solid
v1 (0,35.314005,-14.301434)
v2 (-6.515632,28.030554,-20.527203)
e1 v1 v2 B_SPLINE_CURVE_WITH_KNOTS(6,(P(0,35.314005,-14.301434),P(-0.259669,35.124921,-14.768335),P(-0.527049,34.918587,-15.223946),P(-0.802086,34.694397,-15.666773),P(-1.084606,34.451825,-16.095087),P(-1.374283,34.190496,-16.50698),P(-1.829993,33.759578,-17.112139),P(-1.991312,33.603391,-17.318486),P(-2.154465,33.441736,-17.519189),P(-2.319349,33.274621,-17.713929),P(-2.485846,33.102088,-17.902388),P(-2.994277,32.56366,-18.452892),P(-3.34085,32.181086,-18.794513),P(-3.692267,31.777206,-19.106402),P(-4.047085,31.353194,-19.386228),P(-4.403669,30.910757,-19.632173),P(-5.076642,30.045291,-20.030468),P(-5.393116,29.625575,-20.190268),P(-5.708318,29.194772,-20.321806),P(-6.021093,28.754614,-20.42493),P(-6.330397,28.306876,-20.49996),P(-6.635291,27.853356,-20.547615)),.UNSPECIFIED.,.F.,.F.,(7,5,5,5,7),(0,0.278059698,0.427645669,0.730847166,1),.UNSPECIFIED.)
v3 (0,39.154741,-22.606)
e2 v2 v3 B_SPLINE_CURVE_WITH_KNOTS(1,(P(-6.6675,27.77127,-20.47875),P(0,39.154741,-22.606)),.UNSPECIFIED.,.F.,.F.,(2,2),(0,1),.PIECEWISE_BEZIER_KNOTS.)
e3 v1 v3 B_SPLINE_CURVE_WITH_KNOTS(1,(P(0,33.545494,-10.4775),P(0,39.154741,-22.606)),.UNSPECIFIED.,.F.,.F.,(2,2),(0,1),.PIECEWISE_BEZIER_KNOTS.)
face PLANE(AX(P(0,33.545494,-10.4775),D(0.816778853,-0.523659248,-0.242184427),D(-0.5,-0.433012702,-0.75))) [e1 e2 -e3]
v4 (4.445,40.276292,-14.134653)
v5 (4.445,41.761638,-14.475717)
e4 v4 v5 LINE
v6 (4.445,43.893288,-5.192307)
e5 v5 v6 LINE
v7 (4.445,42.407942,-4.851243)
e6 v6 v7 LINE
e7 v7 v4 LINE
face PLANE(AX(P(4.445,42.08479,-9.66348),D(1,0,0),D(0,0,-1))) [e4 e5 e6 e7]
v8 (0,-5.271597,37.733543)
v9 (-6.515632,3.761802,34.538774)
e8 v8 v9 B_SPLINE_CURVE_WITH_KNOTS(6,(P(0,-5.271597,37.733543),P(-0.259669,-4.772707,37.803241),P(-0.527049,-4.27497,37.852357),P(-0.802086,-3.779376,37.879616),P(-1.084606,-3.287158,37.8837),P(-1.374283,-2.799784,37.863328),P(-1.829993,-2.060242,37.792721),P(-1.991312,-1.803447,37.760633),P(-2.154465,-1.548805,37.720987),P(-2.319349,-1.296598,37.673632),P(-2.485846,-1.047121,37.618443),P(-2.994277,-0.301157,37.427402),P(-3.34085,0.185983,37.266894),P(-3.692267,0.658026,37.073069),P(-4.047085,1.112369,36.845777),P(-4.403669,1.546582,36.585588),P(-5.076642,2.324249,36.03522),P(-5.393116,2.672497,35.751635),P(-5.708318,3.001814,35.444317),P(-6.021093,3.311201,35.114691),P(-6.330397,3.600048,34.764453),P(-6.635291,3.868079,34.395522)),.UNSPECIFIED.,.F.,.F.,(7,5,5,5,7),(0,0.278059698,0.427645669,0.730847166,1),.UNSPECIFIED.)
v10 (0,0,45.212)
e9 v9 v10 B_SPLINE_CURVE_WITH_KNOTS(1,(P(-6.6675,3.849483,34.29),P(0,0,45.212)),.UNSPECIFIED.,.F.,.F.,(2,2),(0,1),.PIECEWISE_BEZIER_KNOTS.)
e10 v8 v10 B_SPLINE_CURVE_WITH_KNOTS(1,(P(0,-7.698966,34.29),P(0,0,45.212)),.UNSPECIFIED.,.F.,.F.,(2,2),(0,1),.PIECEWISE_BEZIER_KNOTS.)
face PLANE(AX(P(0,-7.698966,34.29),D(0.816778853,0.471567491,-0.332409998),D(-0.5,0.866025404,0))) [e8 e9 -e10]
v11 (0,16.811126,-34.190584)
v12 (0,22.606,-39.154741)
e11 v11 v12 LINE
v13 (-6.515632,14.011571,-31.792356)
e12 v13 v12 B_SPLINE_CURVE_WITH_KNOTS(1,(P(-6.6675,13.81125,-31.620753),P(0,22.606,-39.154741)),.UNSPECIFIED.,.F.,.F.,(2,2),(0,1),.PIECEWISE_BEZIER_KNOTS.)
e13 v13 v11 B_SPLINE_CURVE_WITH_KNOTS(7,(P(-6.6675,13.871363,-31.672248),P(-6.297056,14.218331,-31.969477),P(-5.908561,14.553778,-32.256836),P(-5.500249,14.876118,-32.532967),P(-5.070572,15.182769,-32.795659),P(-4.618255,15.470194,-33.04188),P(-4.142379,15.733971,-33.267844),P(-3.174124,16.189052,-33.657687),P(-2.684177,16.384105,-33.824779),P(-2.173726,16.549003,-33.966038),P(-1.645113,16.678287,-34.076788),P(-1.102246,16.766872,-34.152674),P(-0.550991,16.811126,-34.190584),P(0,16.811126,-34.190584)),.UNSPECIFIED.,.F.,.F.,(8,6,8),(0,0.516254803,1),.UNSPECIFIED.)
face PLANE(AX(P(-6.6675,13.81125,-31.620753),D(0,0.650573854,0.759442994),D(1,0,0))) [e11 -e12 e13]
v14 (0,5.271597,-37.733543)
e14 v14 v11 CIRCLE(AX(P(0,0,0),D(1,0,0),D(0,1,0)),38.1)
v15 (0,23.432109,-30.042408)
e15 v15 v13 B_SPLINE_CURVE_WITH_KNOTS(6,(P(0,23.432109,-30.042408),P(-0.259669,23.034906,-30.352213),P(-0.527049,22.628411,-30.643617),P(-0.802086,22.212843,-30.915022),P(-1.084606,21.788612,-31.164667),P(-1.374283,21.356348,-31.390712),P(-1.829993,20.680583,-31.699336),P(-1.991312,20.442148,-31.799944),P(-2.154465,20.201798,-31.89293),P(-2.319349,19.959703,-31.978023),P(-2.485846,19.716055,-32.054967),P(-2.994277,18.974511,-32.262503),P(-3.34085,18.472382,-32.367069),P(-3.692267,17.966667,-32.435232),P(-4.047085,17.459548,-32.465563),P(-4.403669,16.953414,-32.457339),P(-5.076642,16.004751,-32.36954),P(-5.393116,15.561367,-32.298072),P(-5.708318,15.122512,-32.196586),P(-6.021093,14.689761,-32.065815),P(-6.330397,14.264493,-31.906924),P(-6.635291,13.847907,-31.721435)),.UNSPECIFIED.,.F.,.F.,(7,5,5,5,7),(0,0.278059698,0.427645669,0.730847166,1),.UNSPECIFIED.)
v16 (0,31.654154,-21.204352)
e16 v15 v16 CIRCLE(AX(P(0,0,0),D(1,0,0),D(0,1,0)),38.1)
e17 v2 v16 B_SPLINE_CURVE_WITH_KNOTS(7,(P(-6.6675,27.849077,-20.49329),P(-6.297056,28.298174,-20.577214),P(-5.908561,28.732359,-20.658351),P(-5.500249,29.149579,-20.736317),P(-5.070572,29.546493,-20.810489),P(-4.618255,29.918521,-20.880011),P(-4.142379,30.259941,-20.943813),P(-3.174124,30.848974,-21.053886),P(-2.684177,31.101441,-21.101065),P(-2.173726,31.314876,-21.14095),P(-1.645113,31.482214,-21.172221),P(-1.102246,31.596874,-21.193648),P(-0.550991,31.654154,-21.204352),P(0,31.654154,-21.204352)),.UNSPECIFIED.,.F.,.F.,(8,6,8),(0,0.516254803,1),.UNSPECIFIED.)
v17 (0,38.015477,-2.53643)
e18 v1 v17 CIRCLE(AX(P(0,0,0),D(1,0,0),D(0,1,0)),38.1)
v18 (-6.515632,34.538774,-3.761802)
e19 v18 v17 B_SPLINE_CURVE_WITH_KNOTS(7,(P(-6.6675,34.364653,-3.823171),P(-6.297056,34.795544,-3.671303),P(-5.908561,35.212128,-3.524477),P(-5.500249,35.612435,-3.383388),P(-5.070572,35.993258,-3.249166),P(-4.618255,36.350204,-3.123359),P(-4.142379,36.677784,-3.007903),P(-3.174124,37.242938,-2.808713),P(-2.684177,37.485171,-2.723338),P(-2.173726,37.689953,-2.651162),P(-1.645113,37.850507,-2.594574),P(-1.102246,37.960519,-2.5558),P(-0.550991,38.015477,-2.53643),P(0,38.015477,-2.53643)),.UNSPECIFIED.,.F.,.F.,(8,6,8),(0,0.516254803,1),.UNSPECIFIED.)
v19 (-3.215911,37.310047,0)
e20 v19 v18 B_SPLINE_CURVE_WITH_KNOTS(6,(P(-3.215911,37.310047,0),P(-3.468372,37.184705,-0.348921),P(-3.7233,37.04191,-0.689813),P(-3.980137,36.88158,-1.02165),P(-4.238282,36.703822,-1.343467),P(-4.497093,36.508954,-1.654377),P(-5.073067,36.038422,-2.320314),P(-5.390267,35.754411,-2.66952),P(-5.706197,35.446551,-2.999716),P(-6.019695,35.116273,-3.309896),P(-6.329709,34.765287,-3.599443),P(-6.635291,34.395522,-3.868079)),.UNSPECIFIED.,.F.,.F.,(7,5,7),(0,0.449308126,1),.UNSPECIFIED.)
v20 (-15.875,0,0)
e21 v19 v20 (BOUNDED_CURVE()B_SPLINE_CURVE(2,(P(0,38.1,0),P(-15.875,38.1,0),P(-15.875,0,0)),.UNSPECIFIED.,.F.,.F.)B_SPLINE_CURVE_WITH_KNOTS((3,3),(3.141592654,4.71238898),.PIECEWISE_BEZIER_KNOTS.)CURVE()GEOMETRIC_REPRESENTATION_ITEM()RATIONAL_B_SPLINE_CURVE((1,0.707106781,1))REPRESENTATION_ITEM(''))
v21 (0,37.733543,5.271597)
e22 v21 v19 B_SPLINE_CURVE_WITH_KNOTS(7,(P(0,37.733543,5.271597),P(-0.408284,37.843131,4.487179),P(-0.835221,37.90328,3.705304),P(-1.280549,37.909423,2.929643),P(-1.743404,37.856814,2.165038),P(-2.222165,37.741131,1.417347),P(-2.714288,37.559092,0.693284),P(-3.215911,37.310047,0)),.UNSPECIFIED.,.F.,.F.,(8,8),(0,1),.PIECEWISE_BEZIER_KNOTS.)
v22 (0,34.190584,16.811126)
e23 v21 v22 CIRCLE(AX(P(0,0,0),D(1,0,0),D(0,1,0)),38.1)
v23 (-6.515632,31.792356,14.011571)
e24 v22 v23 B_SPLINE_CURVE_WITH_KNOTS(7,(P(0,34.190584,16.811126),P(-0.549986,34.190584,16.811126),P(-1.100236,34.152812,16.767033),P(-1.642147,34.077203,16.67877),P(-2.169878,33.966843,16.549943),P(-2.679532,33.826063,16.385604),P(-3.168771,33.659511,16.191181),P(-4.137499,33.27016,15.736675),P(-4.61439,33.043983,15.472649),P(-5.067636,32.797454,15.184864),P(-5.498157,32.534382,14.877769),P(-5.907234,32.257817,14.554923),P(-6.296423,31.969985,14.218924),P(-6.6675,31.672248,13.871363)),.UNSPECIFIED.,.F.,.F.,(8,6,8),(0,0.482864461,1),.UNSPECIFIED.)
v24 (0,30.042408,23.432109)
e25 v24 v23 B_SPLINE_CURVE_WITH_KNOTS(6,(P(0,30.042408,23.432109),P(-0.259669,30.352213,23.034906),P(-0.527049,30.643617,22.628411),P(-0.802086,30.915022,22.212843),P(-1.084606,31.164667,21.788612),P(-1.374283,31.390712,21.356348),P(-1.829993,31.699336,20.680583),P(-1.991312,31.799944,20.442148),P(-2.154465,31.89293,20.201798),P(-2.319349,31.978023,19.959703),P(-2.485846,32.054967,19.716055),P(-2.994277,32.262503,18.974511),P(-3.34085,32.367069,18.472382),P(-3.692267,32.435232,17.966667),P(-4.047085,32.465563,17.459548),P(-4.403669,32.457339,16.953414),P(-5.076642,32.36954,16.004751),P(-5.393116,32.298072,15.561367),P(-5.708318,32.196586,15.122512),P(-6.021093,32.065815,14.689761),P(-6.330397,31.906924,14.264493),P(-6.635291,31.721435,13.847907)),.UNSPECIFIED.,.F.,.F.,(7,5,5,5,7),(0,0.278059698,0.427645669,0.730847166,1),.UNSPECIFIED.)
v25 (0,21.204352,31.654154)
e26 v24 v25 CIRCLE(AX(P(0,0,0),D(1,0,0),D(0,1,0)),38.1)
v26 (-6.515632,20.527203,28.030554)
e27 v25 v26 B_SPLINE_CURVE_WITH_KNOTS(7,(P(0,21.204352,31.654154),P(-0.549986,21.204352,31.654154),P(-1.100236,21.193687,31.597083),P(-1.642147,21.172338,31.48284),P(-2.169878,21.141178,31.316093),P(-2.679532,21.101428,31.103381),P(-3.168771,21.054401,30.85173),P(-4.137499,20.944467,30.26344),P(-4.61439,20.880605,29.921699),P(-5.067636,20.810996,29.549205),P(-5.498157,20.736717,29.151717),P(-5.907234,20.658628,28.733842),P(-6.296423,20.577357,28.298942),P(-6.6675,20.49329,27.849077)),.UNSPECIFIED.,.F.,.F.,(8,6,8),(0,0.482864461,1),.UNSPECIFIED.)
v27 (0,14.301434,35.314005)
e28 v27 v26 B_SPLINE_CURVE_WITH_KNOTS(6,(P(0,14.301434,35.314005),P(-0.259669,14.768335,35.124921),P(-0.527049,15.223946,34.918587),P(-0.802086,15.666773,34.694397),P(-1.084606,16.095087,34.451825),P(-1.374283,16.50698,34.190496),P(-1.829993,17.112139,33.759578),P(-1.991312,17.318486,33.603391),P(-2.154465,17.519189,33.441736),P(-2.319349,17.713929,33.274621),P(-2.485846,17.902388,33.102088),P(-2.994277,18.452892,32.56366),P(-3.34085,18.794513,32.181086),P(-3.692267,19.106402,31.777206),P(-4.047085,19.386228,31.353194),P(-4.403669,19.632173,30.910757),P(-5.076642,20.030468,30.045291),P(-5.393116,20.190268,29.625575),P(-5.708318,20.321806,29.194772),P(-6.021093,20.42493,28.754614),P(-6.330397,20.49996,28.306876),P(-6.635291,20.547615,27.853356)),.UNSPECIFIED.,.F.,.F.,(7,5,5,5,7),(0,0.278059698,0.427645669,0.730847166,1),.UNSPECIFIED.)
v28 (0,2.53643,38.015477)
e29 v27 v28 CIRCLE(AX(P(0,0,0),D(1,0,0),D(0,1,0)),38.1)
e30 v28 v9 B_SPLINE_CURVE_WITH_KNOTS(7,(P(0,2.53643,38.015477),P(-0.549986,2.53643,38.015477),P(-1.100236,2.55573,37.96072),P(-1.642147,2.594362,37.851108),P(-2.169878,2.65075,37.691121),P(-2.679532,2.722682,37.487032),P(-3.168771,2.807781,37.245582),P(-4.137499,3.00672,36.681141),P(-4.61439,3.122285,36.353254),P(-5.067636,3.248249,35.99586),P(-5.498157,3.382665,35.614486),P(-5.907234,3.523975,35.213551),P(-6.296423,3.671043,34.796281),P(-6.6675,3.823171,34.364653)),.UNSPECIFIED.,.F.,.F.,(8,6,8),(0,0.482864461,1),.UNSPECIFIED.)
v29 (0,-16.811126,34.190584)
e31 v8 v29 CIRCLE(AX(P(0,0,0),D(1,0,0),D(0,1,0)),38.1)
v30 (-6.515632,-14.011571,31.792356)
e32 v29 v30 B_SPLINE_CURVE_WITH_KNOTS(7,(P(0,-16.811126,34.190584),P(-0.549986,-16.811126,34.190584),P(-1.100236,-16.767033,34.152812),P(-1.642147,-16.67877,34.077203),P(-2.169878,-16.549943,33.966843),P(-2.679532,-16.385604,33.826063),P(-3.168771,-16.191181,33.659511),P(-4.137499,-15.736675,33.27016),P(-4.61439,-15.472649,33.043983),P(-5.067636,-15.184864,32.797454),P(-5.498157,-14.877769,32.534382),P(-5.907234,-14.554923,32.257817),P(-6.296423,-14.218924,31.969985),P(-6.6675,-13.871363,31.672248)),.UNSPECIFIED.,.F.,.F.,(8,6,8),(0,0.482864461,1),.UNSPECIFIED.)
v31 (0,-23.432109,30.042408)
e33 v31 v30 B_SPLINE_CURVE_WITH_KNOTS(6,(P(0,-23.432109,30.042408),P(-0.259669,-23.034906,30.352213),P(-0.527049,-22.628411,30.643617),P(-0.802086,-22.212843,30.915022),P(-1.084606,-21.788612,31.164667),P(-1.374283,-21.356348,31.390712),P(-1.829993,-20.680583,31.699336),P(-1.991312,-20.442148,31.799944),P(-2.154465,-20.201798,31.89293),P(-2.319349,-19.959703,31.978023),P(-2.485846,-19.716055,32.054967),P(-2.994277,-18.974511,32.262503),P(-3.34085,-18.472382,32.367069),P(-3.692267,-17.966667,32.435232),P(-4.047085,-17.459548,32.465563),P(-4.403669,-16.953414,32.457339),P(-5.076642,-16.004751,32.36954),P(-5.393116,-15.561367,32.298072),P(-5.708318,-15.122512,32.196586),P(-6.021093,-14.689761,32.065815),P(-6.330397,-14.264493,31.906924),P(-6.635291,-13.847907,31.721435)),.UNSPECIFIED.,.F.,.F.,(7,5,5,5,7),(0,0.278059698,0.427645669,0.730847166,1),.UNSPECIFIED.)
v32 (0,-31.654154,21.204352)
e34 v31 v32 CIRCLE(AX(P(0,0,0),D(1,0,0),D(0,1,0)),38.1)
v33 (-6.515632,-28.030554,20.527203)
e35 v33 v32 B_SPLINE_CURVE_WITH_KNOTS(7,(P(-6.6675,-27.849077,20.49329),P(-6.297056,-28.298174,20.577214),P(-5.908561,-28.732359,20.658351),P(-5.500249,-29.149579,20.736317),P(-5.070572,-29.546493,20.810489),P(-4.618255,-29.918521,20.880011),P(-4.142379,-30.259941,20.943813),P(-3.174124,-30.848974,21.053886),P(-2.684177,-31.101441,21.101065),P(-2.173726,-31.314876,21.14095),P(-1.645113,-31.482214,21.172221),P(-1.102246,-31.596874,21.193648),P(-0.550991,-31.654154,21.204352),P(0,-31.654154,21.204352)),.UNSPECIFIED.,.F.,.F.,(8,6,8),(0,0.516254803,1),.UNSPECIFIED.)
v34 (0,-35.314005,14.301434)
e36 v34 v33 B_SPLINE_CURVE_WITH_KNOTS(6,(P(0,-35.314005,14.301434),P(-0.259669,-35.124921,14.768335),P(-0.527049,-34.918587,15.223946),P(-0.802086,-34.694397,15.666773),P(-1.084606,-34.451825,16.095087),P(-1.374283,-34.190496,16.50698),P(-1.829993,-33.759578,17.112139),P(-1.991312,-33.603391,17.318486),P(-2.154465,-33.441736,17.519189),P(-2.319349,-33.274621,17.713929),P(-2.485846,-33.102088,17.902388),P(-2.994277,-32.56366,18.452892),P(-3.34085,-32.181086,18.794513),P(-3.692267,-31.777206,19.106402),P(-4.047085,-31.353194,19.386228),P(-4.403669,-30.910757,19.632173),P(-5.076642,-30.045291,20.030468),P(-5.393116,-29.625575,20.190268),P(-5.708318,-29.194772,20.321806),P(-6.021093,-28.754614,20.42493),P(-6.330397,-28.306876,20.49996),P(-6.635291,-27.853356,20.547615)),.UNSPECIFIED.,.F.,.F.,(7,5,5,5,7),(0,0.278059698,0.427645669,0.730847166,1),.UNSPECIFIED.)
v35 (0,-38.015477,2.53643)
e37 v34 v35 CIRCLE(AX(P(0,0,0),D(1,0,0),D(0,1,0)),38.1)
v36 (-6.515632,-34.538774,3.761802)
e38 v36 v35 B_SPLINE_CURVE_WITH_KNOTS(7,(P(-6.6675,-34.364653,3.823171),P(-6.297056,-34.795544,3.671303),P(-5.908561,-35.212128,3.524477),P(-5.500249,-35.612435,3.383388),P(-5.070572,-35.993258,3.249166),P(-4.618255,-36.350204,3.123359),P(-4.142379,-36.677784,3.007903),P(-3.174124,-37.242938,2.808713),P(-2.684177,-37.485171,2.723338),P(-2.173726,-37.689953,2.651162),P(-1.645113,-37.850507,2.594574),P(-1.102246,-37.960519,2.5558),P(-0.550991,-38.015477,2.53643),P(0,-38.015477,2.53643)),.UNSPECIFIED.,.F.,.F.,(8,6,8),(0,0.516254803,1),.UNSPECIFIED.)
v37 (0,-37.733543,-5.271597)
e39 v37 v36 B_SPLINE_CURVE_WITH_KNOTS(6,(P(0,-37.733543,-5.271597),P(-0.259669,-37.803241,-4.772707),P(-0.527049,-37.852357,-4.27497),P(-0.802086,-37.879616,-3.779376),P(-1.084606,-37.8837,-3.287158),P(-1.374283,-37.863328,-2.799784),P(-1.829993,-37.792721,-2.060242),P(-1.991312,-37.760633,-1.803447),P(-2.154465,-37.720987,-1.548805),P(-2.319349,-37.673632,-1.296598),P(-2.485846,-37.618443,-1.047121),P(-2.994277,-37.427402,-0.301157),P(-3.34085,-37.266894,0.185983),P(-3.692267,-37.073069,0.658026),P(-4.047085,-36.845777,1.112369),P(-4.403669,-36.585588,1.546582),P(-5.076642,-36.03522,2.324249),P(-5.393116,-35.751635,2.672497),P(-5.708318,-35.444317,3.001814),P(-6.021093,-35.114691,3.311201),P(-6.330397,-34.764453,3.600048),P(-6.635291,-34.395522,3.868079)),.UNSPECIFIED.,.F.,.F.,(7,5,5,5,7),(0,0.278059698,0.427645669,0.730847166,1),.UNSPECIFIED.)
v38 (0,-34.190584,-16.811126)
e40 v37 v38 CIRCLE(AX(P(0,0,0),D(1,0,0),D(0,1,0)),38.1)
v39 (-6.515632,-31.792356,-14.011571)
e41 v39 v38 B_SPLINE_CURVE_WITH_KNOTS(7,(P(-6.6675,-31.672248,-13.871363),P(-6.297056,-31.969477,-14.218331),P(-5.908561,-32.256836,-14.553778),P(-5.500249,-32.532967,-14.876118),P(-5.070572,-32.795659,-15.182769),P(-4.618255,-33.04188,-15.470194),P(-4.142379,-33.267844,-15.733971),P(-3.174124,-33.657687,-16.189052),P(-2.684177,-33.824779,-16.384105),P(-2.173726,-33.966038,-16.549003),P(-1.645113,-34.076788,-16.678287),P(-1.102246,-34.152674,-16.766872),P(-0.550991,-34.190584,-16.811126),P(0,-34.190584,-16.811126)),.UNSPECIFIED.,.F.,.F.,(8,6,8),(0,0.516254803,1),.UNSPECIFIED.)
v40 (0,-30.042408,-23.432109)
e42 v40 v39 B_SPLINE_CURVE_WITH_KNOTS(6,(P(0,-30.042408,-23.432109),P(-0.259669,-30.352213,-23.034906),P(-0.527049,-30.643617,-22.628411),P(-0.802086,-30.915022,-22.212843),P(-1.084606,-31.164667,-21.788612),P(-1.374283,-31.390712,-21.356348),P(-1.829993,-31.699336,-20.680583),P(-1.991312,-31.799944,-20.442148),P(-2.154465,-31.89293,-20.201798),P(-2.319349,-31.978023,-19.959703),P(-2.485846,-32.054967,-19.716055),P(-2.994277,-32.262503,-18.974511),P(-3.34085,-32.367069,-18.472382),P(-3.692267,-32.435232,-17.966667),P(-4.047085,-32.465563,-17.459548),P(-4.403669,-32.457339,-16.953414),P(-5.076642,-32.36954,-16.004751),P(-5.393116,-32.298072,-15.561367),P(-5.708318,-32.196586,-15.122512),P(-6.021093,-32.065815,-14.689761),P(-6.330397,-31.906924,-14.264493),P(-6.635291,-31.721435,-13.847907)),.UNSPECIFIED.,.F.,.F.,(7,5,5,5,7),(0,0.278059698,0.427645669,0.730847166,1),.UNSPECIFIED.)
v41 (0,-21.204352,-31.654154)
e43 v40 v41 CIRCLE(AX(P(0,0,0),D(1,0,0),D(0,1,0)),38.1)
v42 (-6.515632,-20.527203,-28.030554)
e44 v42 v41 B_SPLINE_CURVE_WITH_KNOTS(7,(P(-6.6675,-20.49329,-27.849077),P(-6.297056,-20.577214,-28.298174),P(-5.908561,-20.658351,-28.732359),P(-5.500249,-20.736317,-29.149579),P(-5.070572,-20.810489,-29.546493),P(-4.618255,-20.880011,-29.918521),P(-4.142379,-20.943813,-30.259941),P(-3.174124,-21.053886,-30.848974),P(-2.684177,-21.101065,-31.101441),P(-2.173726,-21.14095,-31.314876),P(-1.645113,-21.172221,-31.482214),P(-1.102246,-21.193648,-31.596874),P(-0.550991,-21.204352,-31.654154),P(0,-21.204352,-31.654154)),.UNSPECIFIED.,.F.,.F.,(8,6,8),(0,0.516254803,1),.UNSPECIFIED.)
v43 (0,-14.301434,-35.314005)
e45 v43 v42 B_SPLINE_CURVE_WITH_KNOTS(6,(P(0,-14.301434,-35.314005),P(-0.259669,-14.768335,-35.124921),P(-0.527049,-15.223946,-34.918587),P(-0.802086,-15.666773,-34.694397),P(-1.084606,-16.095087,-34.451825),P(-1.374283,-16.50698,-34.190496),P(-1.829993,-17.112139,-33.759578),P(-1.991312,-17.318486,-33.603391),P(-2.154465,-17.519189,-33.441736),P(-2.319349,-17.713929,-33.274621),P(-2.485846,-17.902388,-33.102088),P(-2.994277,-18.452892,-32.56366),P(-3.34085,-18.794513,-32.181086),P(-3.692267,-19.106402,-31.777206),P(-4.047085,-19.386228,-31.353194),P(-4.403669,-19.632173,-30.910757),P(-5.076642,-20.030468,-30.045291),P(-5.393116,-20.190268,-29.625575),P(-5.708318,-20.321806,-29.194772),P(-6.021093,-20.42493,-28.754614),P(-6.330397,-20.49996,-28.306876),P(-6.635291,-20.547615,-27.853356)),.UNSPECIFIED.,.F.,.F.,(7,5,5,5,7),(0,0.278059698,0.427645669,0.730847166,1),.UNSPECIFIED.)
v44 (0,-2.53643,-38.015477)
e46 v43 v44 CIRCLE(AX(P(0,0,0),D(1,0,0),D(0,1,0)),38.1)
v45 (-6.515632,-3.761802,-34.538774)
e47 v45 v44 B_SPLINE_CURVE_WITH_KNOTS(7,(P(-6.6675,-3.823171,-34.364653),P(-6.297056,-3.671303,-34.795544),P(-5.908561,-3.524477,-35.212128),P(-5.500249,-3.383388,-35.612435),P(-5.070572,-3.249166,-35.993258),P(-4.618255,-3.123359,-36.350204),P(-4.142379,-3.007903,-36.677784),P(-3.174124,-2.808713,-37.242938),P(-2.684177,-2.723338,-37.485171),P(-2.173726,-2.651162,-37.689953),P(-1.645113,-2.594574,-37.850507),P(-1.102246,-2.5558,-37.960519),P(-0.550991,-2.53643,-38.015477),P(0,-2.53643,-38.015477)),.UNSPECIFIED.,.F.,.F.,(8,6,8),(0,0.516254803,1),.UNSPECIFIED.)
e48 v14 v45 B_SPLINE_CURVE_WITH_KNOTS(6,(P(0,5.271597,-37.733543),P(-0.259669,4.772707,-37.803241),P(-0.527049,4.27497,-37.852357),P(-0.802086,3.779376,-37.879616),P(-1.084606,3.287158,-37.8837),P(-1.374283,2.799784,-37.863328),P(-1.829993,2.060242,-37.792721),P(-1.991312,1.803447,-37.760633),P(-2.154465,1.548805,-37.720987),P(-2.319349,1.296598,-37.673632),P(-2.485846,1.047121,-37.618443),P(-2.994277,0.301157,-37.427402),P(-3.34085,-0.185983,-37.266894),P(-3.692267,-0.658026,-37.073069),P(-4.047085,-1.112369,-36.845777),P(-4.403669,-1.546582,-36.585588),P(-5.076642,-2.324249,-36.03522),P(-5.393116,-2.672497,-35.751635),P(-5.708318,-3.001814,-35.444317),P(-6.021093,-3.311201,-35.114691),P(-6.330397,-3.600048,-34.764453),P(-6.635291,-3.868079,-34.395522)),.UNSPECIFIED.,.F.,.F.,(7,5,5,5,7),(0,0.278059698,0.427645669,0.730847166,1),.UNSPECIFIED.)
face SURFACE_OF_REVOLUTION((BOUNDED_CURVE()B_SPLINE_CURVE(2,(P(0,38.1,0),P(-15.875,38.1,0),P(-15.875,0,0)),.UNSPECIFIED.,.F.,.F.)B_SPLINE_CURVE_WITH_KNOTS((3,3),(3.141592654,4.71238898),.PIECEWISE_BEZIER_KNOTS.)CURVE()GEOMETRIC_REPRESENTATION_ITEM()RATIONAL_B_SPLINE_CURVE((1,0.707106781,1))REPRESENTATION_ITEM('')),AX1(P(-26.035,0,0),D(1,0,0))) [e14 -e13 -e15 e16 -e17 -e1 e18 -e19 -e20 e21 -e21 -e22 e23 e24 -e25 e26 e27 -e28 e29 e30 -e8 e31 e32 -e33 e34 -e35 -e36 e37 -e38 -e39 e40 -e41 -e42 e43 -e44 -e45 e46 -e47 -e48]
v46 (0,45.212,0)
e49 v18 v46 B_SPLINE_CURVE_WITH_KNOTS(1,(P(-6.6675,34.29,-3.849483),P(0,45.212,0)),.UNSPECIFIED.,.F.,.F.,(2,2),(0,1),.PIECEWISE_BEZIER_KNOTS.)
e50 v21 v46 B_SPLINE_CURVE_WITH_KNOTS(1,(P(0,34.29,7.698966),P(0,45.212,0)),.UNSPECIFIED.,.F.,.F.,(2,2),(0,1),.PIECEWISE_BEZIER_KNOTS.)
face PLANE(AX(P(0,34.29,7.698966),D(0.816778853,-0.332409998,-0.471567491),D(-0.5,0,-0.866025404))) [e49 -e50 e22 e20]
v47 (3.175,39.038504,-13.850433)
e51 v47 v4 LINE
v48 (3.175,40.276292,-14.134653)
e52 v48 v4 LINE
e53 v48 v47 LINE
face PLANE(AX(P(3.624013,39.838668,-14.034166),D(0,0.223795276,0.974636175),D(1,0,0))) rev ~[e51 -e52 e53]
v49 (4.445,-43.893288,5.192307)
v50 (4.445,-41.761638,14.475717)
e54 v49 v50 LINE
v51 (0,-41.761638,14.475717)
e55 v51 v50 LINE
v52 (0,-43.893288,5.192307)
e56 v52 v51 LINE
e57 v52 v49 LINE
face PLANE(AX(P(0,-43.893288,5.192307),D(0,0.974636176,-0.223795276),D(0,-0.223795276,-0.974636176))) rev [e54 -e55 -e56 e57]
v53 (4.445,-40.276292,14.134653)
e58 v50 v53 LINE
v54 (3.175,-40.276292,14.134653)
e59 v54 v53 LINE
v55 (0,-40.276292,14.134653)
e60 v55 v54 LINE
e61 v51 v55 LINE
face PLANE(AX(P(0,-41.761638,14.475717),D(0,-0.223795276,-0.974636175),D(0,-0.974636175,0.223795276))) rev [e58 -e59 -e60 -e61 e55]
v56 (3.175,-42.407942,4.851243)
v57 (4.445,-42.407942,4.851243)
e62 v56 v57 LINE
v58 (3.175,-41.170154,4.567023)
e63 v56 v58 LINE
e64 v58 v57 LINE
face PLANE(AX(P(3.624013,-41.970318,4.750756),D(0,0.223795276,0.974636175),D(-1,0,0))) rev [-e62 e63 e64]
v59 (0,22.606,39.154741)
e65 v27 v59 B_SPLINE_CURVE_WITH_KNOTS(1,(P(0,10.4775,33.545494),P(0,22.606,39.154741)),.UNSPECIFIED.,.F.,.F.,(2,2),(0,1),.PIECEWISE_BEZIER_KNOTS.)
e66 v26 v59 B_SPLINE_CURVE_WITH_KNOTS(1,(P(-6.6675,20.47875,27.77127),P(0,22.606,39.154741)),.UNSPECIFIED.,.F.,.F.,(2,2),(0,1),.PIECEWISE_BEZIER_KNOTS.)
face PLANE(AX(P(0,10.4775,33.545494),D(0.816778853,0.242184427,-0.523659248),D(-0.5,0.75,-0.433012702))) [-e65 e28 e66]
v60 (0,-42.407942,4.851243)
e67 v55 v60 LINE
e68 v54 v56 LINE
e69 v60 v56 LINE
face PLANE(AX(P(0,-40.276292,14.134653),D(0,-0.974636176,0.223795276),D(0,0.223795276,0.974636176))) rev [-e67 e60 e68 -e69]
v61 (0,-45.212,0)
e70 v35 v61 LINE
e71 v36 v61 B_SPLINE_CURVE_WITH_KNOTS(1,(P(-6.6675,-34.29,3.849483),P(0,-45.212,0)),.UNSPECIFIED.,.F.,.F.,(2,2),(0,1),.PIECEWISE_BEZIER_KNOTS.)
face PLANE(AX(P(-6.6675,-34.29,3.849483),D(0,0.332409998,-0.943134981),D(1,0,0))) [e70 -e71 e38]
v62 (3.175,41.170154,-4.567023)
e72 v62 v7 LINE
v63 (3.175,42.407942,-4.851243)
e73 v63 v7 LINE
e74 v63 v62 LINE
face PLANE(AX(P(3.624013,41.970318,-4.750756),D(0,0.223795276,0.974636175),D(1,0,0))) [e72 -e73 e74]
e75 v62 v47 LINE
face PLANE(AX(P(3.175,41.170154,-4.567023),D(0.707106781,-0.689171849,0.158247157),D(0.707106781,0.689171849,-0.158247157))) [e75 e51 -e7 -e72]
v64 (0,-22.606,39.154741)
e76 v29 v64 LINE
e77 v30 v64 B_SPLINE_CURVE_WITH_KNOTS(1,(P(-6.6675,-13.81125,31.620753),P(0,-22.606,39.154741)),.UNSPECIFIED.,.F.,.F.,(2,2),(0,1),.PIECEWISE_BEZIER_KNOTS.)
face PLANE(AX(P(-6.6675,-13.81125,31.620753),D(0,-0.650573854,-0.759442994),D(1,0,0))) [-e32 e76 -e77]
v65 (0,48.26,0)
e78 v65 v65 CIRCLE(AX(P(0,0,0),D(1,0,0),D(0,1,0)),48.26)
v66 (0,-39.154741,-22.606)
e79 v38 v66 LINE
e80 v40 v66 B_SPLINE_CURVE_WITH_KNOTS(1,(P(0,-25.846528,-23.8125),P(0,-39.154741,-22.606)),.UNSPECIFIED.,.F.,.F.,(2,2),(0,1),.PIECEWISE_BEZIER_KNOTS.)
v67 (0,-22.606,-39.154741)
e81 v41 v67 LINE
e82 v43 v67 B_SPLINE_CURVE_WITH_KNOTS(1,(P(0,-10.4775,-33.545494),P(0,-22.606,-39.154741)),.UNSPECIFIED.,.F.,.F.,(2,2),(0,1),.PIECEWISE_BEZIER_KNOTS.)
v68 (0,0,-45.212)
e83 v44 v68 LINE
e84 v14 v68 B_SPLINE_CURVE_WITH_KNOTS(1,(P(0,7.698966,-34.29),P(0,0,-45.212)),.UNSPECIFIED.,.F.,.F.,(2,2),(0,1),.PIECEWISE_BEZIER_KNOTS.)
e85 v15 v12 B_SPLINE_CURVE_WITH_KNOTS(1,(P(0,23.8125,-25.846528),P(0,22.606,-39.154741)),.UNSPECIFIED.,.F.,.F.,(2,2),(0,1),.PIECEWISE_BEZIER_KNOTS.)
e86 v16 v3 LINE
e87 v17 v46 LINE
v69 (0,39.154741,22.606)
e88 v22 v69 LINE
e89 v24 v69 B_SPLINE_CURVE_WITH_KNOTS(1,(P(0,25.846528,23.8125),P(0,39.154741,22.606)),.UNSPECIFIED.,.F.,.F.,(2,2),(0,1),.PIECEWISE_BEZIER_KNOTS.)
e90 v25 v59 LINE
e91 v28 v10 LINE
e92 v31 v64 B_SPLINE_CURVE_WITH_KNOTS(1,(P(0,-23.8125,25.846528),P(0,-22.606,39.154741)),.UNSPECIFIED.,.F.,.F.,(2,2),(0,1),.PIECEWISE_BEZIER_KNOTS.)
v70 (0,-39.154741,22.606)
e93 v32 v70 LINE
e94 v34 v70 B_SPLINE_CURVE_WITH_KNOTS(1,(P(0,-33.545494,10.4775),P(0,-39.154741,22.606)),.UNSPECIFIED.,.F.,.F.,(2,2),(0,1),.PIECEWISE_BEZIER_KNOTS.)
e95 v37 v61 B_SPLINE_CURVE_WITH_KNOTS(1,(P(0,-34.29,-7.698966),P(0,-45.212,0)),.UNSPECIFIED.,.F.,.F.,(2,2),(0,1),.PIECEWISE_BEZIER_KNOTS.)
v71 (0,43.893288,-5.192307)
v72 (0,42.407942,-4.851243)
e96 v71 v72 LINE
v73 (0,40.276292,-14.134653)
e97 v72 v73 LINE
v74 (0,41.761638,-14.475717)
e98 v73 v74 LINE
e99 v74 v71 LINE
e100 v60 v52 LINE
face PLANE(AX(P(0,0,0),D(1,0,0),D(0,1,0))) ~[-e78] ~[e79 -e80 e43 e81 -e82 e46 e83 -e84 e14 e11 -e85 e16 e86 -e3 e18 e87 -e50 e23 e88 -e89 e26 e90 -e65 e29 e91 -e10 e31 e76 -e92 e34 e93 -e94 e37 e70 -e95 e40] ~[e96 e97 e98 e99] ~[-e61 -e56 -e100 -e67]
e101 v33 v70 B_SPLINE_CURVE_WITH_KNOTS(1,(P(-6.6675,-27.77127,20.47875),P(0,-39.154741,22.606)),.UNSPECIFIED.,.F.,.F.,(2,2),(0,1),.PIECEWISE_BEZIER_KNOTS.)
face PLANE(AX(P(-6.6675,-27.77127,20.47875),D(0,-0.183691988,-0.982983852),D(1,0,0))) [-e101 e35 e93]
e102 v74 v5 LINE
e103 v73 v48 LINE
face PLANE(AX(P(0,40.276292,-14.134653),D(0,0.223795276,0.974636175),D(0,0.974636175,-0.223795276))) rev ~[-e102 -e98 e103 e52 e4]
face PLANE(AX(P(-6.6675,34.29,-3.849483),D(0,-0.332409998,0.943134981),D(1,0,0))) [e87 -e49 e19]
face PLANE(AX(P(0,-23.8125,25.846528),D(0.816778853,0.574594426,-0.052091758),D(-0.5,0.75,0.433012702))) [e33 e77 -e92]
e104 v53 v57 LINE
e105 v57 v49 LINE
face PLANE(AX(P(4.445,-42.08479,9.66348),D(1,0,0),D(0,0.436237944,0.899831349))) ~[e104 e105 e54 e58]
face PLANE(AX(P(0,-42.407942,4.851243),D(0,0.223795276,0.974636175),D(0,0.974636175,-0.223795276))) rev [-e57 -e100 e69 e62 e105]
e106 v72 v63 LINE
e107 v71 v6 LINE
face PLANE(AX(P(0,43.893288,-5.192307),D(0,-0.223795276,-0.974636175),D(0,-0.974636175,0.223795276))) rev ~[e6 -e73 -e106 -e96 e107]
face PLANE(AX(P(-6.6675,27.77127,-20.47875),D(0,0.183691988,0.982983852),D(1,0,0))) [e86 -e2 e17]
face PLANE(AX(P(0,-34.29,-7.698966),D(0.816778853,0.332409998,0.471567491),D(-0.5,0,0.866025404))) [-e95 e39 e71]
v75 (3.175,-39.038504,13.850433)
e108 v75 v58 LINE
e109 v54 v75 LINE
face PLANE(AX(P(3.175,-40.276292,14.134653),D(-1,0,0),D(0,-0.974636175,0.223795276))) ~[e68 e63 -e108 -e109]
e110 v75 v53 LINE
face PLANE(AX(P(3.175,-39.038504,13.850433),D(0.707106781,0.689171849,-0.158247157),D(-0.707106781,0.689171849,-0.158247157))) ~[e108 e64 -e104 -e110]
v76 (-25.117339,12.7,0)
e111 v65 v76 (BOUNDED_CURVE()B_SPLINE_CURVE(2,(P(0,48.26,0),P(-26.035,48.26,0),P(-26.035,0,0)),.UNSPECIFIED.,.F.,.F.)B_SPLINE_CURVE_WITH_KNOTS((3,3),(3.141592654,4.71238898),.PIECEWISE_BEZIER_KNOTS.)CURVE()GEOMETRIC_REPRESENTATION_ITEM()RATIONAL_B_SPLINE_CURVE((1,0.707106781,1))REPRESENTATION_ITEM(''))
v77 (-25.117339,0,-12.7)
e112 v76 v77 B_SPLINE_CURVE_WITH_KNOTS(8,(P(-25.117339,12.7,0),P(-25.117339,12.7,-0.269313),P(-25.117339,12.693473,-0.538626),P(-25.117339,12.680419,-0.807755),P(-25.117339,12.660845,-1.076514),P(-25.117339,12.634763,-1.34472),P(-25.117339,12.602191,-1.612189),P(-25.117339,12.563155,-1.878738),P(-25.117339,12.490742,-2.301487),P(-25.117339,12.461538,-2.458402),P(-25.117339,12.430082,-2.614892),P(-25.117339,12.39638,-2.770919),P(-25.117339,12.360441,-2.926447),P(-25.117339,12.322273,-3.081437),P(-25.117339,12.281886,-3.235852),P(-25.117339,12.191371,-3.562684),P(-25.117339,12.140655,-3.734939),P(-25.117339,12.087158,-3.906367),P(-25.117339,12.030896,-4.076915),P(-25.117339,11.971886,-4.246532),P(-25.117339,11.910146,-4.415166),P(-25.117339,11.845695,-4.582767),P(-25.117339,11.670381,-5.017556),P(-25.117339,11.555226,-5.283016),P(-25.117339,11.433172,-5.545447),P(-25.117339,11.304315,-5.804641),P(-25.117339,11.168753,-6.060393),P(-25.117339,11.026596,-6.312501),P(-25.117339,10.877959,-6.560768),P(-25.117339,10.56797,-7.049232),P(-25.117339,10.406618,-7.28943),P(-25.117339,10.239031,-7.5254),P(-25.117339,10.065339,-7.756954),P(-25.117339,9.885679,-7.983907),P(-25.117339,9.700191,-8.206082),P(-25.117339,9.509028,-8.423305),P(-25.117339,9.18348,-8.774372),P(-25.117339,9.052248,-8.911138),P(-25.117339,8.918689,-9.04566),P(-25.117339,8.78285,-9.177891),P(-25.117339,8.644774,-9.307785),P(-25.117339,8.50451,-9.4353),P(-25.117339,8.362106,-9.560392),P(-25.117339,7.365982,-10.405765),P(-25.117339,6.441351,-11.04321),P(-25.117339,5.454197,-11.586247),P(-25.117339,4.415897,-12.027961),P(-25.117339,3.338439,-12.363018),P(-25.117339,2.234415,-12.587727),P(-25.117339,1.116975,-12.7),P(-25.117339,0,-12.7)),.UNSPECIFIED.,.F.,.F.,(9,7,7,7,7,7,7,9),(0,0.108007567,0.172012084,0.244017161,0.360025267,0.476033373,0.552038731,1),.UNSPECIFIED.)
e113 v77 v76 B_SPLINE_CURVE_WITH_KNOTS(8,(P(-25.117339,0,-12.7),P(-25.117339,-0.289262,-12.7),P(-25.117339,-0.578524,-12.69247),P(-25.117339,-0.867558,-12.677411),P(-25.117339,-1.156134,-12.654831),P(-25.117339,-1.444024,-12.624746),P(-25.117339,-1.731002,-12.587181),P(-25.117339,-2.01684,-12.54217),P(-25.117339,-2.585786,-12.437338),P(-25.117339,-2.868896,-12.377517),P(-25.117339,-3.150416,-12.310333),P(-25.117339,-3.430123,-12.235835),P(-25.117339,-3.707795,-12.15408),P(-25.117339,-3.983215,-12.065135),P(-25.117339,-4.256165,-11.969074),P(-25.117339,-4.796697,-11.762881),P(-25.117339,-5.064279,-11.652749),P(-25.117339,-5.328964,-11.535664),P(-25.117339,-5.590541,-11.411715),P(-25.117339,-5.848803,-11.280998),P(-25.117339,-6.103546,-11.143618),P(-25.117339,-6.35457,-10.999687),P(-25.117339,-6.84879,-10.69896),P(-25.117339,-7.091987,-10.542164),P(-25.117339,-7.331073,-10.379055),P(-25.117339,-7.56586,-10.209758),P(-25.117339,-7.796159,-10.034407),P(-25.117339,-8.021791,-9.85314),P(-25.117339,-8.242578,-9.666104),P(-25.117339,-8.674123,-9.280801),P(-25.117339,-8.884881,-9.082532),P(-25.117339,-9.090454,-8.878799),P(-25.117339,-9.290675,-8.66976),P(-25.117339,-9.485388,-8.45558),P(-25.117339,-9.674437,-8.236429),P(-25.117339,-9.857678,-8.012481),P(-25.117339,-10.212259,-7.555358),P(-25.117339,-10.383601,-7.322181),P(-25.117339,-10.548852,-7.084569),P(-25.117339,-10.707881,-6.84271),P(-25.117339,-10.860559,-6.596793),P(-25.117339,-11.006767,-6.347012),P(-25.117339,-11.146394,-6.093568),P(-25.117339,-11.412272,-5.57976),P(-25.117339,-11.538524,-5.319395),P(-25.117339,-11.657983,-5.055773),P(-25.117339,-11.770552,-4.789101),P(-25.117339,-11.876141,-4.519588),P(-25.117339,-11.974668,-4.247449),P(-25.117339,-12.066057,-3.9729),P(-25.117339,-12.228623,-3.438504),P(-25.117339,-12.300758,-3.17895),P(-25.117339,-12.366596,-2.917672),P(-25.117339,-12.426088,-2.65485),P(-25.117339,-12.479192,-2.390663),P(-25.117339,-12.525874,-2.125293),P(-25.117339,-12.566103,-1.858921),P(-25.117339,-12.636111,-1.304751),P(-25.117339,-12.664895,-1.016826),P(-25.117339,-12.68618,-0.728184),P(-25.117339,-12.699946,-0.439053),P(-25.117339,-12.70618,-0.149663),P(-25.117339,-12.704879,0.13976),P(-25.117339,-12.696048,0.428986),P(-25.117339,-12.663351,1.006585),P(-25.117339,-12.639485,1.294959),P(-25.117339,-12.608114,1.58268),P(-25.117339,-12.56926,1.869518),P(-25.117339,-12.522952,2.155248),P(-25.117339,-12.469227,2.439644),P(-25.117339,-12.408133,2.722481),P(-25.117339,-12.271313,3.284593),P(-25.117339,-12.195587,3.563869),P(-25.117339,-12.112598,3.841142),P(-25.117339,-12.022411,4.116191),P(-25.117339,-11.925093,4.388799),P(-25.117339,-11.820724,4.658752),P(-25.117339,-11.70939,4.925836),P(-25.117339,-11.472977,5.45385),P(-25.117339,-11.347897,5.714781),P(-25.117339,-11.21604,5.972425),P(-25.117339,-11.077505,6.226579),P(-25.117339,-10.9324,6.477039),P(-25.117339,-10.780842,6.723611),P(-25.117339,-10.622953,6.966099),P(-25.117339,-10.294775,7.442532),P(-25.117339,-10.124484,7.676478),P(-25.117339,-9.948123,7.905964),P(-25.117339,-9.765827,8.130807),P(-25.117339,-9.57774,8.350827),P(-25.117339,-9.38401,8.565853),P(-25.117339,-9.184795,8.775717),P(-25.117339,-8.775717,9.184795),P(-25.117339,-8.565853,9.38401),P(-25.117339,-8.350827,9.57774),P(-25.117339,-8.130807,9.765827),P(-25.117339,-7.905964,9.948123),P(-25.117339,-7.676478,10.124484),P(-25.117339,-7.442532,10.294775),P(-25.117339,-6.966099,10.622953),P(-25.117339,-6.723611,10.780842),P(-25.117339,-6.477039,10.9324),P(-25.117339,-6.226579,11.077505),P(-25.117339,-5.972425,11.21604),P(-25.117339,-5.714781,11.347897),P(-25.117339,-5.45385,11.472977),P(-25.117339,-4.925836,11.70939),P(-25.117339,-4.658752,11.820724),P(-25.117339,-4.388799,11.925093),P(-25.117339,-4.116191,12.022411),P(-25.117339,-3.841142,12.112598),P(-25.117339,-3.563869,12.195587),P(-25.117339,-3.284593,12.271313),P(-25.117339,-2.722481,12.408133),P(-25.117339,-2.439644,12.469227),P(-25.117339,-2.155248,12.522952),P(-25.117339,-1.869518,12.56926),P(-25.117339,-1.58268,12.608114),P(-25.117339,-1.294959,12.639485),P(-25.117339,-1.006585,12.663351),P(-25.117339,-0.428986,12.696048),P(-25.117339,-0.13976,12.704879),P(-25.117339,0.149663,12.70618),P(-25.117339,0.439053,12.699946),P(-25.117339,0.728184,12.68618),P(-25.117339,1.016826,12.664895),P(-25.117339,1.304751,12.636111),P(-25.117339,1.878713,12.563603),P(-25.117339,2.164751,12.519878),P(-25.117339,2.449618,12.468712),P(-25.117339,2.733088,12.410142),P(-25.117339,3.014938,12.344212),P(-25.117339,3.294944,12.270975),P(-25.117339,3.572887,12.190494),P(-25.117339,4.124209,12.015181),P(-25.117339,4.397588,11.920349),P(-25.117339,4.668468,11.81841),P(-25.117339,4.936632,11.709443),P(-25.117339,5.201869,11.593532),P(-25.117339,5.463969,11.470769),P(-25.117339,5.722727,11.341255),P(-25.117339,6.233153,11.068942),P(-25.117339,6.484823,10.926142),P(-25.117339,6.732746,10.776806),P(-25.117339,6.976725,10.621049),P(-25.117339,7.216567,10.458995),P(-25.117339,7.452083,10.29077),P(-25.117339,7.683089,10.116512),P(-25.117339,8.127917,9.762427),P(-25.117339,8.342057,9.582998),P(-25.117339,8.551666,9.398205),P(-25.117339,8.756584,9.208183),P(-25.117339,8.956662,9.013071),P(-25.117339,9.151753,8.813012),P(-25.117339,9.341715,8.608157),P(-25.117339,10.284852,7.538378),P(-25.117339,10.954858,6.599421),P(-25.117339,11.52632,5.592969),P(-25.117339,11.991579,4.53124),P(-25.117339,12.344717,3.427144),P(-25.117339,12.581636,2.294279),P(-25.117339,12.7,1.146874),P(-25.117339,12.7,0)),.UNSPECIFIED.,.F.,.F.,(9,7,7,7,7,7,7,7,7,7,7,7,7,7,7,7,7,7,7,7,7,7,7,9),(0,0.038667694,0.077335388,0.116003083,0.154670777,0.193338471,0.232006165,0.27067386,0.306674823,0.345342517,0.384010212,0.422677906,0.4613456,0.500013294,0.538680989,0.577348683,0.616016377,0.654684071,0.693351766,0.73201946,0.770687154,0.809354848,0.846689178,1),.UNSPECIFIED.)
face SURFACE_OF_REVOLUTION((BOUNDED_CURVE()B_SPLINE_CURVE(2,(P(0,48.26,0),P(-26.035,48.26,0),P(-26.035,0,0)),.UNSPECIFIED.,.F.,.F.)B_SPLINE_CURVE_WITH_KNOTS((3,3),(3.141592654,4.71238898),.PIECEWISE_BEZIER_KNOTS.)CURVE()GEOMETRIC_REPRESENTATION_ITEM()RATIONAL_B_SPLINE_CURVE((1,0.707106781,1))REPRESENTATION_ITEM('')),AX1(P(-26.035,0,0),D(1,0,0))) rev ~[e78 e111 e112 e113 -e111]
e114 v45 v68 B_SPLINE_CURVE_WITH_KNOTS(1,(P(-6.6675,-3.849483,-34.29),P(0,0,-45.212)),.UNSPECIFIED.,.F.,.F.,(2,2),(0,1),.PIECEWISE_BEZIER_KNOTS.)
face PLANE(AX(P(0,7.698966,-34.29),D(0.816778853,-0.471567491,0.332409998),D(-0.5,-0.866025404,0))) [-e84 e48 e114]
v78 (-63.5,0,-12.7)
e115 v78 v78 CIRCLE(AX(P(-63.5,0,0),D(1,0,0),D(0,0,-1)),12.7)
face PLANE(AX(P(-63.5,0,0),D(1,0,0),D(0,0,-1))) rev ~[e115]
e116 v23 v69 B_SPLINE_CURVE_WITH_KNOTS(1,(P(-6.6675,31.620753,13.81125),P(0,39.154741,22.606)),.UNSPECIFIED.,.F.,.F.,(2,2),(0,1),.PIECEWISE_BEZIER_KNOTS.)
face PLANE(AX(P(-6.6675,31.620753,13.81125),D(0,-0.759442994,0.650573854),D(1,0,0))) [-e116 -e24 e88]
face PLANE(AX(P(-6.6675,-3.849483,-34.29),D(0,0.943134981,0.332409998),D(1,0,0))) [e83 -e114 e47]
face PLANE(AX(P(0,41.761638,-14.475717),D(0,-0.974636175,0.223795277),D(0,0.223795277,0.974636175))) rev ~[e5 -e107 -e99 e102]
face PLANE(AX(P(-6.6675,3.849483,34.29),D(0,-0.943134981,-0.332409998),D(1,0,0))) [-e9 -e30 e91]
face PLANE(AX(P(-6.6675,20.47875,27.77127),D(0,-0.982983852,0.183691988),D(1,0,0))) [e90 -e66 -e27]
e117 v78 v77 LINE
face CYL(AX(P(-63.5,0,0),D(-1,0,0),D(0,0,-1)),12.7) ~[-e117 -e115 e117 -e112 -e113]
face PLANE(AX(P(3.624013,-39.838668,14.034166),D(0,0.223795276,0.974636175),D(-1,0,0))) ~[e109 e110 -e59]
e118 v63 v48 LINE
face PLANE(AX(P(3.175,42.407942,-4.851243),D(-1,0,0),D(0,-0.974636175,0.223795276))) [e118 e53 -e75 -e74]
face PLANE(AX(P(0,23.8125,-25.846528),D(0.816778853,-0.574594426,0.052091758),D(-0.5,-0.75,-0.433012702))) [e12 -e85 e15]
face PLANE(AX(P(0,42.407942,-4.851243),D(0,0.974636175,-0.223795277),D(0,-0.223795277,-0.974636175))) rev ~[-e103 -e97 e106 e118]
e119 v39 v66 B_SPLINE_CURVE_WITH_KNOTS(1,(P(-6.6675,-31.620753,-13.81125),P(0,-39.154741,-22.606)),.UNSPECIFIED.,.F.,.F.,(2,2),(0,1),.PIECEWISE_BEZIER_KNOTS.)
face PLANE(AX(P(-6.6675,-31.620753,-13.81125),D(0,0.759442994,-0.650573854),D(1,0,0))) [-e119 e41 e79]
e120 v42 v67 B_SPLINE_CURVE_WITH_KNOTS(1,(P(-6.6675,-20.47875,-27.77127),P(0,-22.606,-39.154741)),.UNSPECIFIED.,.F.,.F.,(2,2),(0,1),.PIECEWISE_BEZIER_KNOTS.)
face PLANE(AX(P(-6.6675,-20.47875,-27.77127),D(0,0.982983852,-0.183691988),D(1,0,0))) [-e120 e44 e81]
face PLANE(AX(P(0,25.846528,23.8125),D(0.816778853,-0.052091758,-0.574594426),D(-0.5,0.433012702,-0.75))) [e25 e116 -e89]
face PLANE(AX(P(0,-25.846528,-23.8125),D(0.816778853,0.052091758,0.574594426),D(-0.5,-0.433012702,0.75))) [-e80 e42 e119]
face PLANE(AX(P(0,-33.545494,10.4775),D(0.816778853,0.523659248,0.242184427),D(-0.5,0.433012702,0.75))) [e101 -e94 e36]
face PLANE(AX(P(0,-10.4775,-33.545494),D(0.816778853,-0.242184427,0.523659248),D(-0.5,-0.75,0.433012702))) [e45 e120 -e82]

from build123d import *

# Parameters (mm, degrees)
CIRPATTERN1_COUNT   = 12
BOSS_EXTRUDE1_DEPTH = 4.445
BOSS_EXTRUDE2_DEPTH = 9.525
BOSS_EXTRUDE3_REACH = 69.945
SKETCH8_R           = 12.7


with BuildPart() as part:
    # Sketch1 → Revolve2 (revolve)
    with BuildSketch(Plane.XY):
        with BuildLine():
            add(Edge.make_bspline(
                [(0, 48.26), (-26.035, 48.26), (-26.035, 0)],
                knots=[3.141592654, 3.141592654, 3.141592654, 4.71238898, 4.71238898, 4.71238898], degree=2, weights=[1, 0.707106781, 1]))
            Line((-26.035, 0), (-15.875, 0))
            add(Edge.make_bspline(
                [(0, 38.1), (-15.875, 38.1), (-15.875, 0)],
                knots=[3.141592654, 3.141592654, 3.141592654, 4.71238898, 4.71238898, 4.71238898], degree=2, weights=[1, 0.707106781, 1]))
            Line((0, 38.1), (0, 48.26))
        make_face()
    revolve(axis=Axis((-26.035, 0, 0), (1, 0, 0)))

    # Sketch2 → Cut-Loft1 section 0
    with BuildSketch(Plane(origin=(0, -34.29, 0), x_dir=(1, 0, 0), z_dir=(0, 1, 0)), mode=Mode.PRIVATE) as cut_loft1_s0:
        Polygon((0, 7.69896584), (-6.6675, -3.84948292), (6.6675, -3.84948292), align=None)
    cut_loft1 = loft([cut_loft1_s0.sketch, Vertex(0, -45.212, 0)], mode=Mode.SUBTRACT)

    # CirPattern1: Cut-Loft1 ×12 about axis
    cirpattern1_axis = Axis((0, 0, 0), (1, 0, 0))
    for i in range(1, CIRPATTERN1_COUNT):
        add(cut_loft1.rotate(cirpattern1_axis, i * 360 / CIRPATTERN1_COUNT), mode=Mode.SUBTRACT)

    # Sketch6 → Boss-Extrude1 (add)
    with BuildSketch(Plane(origin=(0, 0, 0), x_dir=(0, 0, -1), z_dir=(1, 0, 0))):
        Polygon((4.851243253, 42.407942289), (14.134652823, 40.27629228), (14.475716824, 41.761637811), (5.192307254, 43.89328782), align=None)
    boss_extrude1 = extrude(amount=BOSS_EXTRUDE1_DEPTH)

    # Sketch7 → Boss-Extrude2 (add)
    with BuildSketch(Plane(origin=(0, 1.065825004, 4.641704785), x_dir=(1, 0, 0), z_dir=(0, 0.223795276, 0.974636175))):
        Polygon((3.175, 42.418), (3.175, 41.148), (4.445, 42.418), align=None)
    boss_extrude2 = extrude(amount=-BOSS_EXTRUDE2_DEPTH)

    # Mirror1: Boss-Extrude1, Boss-Extrude2 across plane
    add(boss_extrude1.mirror(Plane(origin=(0, 0, 0), x_dir=(0, 0.223795276, 0.974636175), z_dir=(0, -0.974636175, 0.223795276))))
    add(boss_extrude2.mirror(Plane(origin=(0, 0, 0), x_dir=(0, 0.223795276, 0.974636175), z_dir=(0, -0.974636175, 0.223795276))))

    # Sketch8 → Boss-Extrude3 (add, up to next)
    with BuildSketch(Plane(origin=(-63.5, 0, 0), x_dir=(0, 0, -1), z_dir=(1, 0, 0)), mode=Mode.PRIVATE) as boss_extrude3_sk1:
        Circle(SKETCH8_R)
    boss_extrude3_tool1 = extrude(boss_extrude3_sk1.sketch, amount=BOSS_EXTRUDE3_REACH, mode=Mode.PRIVATE) - part.part
    add(boss_extrude3_tool1.solids().sort_by_distance((-63.5, 0, 0))[0])


solid = part.part
